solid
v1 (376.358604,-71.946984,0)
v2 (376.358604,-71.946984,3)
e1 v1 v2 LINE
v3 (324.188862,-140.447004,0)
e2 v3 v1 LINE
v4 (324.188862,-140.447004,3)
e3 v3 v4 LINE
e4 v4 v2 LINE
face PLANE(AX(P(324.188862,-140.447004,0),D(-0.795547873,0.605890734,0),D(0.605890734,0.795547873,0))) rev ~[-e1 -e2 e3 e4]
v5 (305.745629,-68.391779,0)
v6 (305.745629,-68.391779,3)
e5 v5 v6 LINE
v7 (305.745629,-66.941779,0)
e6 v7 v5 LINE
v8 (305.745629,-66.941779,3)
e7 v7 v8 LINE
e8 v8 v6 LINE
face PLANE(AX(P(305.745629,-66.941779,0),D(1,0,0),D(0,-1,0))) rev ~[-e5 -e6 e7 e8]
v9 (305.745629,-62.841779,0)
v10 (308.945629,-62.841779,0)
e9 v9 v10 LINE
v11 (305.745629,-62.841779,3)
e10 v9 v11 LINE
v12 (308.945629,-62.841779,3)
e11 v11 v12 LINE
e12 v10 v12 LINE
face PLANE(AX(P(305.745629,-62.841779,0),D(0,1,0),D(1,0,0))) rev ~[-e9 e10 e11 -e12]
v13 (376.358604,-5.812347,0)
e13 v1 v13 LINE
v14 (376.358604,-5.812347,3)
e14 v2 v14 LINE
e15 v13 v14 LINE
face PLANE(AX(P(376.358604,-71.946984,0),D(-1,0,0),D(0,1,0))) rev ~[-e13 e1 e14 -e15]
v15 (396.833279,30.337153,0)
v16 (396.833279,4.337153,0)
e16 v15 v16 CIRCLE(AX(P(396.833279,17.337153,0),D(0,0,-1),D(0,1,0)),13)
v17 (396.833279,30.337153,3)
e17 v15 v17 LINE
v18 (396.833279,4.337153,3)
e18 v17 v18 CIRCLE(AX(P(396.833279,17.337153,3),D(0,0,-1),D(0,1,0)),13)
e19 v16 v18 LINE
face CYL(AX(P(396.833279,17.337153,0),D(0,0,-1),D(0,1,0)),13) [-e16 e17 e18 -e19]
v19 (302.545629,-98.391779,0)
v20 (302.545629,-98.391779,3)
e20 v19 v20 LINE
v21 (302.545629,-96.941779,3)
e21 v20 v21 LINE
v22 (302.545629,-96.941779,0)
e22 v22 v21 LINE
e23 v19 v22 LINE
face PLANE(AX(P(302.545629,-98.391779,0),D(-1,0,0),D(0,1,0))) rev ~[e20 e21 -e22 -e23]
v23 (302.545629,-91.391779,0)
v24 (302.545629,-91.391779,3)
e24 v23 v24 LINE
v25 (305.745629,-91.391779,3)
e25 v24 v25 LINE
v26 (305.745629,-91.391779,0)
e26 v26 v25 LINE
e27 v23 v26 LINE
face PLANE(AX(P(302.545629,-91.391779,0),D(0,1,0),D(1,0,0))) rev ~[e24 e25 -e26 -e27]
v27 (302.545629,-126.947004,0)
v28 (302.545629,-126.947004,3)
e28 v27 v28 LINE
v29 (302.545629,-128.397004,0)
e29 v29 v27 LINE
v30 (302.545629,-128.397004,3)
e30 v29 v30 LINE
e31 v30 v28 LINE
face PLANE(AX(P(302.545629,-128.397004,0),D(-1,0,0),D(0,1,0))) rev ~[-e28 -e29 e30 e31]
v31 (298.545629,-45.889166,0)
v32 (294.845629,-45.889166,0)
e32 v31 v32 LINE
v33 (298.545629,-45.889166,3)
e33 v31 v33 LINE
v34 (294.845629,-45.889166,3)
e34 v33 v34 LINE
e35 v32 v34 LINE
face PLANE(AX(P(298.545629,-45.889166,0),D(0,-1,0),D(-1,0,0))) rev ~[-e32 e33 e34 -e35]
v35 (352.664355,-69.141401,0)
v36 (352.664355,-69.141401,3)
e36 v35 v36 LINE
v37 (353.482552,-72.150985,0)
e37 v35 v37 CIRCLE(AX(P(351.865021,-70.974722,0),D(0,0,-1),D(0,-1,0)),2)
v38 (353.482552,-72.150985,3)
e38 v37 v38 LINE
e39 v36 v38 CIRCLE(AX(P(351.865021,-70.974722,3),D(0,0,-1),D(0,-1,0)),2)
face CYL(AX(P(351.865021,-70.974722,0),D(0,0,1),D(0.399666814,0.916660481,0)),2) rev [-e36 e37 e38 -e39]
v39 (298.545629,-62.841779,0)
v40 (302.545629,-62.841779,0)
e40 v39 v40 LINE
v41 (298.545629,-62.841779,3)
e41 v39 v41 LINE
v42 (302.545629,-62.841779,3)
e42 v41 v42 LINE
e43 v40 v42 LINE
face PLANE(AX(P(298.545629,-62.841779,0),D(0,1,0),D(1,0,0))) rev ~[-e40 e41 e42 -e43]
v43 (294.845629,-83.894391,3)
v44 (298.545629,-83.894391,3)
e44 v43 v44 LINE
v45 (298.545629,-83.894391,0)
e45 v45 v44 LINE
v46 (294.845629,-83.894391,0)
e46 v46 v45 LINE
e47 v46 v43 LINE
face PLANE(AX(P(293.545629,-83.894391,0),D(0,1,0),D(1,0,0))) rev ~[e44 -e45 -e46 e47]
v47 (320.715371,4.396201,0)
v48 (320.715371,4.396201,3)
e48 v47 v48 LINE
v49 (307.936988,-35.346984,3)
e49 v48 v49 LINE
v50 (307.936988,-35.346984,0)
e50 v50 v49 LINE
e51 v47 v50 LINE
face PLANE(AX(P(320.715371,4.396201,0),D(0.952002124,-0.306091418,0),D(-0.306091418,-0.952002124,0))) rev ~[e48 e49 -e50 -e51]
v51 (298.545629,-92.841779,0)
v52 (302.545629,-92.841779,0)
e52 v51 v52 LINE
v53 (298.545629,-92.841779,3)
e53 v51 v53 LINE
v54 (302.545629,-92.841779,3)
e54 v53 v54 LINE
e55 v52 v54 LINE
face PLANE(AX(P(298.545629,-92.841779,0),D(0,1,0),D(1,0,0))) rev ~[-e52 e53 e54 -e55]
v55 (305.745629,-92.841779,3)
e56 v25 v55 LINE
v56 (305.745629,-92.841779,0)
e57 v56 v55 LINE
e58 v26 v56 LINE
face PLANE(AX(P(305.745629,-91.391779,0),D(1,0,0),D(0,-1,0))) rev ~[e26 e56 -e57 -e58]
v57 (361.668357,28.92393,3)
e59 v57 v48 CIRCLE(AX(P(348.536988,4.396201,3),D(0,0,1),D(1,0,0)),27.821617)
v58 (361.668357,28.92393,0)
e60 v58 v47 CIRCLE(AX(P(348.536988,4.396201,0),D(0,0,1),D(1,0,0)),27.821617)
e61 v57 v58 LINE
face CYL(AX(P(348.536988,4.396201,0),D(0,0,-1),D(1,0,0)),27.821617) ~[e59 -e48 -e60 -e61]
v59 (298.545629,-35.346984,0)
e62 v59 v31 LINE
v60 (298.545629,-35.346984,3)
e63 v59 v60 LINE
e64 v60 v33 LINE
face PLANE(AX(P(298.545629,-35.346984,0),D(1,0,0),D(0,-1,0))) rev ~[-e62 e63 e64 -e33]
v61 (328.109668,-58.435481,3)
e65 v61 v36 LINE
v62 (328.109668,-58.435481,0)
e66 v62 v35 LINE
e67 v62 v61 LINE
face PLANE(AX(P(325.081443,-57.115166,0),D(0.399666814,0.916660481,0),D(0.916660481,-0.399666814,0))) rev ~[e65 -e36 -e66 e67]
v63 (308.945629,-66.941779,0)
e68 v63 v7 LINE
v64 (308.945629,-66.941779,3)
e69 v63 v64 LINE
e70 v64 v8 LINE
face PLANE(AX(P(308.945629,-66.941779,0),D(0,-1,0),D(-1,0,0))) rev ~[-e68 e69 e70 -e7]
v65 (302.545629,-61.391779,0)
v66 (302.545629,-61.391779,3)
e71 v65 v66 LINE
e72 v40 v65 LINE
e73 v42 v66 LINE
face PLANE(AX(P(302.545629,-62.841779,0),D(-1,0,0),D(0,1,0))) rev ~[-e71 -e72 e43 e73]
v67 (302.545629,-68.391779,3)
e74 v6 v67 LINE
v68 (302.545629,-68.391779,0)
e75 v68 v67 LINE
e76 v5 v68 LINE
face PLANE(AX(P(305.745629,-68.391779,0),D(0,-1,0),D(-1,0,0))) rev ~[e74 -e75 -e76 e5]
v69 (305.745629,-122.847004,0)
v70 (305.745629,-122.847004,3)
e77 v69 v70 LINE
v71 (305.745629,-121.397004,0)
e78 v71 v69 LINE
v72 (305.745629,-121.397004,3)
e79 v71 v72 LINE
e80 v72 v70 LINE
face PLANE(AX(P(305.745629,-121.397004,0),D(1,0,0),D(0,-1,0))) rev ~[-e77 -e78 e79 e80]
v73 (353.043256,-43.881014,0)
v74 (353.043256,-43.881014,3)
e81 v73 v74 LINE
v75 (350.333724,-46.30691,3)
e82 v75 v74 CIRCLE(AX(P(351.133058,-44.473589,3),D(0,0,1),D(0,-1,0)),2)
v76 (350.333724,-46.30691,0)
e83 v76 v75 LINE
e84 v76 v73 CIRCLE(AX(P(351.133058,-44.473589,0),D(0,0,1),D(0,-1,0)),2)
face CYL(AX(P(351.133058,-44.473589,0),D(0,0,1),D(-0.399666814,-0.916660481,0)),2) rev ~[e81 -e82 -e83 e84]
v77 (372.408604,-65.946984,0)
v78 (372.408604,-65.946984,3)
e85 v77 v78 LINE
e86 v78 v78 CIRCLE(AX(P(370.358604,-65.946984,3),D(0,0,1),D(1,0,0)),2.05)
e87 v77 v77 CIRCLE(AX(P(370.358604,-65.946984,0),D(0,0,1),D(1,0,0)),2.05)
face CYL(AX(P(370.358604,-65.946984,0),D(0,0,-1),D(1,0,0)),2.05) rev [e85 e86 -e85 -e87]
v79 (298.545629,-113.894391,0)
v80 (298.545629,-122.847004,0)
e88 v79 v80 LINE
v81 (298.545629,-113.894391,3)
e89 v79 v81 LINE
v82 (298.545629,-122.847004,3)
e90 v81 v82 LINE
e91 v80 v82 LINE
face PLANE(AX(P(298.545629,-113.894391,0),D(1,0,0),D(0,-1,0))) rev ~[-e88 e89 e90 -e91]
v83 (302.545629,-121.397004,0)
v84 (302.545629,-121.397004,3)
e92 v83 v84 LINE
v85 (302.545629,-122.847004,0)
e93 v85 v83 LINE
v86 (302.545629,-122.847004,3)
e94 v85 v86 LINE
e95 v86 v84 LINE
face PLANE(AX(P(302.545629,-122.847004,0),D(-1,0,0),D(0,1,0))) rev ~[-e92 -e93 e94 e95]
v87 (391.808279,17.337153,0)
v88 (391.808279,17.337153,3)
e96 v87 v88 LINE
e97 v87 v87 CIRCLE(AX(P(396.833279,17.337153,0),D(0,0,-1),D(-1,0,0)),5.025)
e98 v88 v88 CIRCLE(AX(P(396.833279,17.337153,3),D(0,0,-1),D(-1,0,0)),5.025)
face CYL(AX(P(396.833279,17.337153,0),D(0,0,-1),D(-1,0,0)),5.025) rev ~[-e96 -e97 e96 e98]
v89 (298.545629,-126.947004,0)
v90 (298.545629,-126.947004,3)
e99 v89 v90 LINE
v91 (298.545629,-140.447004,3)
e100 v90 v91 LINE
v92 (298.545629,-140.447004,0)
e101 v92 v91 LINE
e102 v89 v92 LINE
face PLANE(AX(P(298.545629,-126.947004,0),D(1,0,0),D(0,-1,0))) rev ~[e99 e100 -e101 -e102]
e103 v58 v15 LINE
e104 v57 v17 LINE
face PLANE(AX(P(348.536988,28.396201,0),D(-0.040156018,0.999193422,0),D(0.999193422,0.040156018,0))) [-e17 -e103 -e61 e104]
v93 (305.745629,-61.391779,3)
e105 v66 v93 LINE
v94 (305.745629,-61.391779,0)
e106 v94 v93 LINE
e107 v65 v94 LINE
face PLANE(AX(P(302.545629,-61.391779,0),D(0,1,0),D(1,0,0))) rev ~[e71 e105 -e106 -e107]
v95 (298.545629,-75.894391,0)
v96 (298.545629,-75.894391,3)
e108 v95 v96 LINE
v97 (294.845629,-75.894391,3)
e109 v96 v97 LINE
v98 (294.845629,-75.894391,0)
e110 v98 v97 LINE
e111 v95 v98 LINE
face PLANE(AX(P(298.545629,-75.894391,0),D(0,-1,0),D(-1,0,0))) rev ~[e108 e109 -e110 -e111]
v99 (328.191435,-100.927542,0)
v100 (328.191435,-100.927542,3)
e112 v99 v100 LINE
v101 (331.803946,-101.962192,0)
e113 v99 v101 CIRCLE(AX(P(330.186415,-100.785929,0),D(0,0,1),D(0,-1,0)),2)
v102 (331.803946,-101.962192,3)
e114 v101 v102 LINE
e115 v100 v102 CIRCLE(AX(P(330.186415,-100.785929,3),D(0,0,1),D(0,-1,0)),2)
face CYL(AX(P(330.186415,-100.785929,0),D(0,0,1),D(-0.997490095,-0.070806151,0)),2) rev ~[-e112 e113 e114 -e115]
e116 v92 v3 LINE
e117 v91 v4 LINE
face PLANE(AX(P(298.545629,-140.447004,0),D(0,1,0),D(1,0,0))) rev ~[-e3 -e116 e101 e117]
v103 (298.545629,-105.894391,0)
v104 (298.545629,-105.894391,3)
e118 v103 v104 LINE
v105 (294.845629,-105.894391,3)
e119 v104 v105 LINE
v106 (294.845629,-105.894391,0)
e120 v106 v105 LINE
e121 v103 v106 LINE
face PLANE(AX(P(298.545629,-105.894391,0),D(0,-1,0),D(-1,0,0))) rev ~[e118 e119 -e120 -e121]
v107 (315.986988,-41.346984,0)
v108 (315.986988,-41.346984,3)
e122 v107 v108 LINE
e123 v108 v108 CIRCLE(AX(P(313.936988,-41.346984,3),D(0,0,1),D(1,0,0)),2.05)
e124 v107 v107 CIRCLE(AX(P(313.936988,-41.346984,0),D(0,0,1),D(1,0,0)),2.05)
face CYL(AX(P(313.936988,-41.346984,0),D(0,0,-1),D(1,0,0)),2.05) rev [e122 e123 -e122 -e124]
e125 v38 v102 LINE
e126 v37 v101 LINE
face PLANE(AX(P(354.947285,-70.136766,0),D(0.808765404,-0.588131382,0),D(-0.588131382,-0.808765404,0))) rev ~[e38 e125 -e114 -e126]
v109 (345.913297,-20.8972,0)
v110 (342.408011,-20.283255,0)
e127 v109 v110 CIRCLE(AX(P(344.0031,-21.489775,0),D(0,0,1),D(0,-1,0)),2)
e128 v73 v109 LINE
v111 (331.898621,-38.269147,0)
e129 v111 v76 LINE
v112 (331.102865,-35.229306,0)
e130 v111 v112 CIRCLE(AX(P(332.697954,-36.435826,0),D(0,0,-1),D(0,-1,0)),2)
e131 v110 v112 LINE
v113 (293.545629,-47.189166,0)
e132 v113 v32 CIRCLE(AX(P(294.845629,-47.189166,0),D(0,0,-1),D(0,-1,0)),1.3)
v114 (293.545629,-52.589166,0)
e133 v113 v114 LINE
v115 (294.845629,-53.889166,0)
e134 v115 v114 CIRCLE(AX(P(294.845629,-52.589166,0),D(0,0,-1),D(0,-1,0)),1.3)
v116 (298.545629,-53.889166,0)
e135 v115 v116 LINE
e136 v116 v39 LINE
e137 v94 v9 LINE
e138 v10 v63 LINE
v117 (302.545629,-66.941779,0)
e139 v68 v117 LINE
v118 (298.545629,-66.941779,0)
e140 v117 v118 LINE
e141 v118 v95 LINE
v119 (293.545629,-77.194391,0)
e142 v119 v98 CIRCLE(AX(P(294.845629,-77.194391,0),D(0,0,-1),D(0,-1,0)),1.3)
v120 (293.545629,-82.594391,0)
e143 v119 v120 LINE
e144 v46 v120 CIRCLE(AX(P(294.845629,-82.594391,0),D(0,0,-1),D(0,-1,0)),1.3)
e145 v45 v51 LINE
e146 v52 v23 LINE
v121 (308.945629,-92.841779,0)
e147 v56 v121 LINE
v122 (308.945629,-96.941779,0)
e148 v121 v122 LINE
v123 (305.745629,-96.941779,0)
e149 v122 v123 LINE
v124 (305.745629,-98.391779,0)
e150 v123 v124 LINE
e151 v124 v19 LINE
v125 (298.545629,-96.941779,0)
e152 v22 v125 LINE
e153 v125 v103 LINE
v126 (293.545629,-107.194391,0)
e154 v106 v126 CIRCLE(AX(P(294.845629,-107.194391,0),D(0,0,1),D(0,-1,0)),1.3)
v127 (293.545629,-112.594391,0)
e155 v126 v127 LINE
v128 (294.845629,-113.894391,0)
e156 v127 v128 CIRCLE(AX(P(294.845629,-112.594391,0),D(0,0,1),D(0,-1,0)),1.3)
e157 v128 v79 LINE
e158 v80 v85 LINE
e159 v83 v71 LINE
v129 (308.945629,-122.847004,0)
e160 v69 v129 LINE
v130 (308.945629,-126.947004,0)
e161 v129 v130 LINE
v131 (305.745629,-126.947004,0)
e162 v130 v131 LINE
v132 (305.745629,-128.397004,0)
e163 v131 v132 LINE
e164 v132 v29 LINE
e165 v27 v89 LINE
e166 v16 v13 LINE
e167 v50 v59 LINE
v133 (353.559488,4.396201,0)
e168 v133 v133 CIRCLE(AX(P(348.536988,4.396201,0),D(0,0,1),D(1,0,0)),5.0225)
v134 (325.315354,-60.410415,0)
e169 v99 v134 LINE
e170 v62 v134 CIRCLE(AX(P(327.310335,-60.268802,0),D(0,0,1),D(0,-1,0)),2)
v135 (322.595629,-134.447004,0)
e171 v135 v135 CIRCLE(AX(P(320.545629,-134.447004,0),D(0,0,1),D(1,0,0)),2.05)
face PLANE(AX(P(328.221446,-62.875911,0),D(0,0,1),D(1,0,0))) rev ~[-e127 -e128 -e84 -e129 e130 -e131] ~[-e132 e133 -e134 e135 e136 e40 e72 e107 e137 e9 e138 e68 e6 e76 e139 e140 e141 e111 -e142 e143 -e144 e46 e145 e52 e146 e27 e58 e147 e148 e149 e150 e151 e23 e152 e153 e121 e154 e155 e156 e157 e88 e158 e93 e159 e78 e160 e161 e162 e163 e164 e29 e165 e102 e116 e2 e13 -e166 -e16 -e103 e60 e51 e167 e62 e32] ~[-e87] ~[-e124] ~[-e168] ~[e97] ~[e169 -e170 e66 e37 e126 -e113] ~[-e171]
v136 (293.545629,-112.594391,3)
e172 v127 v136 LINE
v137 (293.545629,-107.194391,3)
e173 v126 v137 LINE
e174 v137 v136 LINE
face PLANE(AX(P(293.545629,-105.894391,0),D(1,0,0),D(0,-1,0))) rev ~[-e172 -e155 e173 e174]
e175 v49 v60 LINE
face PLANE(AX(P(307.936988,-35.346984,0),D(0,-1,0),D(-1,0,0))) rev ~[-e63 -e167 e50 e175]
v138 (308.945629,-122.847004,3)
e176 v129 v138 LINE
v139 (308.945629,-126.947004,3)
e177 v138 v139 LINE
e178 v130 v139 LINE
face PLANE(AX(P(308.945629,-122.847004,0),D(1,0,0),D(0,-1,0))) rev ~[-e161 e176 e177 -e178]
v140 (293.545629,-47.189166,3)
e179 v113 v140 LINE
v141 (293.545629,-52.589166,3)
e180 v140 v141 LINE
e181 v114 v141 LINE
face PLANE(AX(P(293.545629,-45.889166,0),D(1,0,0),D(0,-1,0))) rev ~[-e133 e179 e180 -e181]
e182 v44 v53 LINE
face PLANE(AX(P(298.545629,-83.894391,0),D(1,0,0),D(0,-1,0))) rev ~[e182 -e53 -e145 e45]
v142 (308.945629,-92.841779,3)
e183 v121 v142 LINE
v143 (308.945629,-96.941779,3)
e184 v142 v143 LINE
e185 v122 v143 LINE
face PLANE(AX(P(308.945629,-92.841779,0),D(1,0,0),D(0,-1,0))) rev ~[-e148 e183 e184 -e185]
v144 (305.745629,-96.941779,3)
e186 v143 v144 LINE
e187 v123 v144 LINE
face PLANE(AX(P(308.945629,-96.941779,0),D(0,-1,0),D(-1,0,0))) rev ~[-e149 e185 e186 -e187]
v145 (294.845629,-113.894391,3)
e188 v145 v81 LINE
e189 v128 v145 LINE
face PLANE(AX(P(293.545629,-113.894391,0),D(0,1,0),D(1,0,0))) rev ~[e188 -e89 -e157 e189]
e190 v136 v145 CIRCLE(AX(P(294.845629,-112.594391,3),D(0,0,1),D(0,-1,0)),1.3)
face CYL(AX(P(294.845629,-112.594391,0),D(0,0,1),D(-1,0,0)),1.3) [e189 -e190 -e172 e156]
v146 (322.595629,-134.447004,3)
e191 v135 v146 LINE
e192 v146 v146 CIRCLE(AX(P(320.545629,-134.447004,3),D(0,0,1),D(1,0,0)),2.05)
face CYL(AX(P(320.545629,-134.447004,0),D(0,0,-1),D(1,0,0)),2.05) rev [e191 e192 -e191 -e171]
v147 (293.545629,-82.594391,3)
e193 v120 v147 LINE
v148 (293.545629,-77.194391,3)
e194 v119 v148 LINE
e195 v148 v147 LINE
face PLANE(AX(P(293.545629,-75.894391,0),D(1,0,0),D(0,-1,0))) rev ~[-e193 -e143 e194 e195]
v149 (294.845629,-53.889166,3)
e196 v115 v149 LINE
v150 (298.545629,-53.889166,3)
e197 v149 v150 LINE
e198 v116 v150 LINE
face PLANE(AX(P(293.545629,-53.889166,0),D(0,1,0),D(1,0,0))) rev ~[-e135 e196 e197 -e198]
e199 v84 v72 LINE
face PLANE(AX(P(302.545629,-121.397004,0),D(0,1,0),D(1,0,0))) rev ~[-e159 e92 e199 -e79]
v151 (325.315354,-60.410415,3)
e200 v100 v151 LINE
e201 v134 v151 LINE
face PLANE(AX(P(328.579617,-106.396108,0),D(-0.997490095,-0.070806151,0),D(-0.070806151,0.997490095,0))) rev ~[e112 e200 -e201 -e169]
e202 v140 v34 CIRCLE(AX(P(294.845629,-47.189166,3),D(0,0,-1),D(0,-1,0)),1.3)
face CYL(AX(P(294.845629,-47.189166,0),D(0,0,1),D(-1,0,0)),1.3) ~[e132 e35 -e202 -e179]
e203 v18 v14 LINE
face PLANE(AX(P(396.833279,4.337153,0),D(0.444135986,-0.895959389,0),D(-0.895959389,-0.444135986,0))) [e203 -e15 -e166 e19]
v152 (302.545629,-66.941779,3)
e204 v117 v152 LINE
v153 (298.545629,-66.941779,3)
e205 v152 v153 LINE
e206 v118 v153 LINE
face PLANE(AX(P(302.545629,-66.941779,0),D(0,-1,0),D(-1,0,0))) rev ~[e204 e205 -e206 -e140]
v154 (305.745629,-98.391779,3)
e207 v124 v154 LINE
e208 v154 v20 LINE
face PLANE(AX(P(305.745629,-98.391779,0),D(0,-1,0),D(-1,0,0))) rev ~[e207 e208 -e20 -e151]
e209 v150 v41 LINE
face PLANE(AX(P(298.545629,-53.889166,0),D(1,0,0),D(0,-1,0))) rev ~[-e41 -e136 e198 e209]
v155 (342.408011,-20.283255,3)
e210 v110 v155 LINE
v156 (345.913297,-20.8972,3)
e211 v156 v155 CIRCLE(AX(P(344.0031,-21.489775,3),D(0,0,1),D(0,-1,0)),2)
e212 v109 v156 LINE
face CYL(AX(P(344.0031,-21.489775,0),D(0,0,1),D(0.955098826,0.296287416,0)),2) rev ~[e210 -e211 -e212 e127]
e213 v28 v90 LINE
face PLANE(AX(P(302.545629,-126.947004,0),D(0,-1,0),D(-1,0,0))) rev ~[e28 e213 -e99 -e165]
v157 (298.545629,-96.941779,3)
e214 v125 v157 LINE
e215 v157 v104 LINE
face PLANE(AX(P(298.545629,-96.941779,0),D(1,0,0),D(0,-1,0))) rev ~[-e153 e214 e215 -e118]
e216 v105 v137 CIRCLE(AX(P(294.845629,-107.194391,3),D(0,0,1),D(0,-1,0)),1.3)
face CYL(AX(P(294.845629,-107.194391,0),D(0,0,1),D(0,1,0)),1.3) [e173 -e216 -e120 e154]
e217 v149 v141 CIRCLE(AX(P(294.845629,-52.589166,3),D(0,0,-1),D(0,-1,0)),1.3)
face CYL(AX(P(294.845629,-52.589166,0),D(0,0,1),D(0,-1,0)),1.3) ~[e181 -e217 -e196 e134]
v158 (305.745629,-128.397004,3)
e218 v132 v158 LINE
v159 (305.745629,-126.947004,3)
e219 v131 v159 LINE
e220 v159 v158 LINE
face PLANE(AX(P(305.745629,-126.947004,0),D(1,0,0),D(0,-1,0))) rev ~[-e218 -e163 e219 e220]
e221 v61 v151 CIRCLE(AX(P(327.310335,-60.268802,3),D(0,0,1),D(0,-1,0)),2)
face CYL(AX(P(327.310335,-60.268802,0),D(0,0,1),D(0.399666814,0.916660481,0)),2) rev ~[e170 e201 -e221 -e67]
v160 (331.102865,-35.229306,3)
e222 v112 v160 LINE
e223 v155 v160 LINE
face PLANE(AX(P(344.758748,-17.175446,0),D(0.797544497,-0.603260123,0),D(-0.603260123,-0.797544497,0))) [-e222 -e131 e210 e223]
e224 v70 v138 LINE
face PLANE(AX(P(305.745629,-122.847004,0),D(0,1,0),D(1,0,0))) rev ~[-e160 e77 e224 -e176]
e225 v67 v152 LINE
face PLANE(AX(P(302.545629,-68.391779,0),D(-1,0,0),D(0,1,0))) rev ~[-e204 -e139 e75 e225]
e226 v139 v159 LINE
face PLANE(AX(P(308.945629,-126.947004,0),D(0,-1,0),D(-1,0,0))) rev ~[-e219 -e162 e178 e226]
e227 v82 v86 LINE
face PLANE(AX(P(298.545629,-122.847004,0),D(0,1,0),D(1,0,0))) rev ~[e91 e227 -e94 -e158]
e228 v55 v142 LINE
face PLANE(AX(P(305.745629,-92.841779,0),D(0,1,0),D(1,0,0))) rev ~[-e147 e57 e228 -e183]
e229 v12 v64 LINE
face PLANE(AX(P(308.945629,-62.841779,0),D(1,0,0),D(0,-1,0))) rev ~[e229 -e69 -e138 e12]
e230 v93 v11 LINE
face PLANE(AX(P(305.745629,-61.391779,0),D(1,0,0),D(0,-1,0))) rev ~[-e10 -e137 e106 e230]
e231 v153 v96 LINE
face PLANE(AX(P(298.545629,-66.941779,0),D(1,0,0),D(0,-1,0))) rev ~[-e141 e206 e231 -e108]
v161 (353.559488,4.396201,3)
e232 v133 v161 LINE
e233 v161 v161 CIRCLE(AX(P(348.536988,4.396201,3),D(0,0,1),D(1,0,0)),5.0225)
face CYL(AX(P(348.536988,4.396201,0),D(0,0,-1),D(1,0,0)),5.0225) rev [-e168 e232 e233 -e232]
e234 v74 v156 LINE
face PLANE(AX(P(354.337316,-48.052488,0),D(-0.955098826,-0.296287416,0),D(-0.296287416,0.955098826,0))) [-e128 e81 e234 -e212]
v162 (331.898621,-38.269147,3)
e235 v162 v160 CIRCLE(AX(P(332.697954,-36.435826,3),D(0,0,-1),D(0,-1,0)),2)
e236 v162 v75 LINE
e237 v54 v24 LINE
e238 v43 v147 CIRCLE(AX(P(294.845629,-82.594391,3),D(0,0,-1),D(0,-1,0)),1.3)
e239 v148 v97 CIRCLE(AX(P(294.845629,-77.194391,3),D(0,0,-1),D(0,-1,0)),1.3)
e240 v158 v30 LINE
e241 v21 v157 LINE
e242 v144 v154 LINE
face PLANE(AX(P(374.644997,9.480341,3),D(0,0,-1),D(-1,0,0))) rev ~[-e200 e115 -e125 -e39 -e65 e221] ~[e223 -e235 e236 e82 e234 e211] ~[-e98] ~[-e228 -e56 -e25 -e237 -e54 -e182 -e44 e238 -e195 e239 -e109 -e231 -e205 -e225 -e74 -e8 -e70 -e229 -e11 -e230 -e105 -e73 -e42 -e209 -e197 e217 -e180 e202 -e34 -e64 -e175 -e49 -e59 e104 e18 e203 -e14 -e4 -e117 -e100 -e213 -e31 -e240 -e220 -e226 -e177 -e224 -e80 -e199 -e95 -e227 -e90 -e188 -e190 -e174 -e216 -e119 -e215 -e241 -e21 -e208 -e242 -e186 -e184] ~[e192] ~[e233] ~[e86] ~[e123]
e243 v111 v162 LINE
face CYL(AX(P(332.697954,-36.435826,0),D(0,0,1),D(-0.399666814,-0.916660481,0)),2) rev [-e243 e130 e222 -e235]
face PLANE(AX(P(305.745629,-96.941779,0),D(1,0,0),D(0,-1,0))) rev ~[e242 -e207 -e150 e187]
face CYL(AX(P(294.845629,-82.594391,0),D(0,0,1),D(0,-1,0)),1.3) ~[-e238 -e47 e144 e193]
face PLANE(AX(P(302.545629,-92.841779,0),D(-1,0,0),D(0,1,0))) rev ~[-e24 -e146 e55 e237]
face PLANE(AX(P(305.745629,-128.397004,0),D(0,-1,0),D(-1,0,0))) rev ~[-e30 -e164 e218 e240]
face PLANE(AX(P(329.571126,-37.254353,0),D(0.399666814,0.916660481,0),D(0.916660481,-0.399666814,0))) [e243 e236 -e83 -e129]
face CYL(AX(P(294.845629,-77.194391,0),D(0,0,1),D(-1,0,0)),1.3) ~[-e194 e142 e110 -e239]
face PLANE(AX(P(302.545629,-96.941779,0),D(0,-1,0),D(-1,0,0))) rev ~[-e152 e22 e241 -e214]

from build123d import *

# Parameters (mm, degrees)
SKETCH_1_R      = 5.0225
SKETCH_1_R_2    = 2.05
EXTRUDE_1_DEPTH = 3
FILLET_1_R      = 2
FILLET_2_R      = 1.3
SKETCH_3_R      = 5.025
EXTRUDE_2_DEPTH = 3


with BuildPart() as part:
    # 草图1 → 凸台-拉伸1 (new body)
    with BuildSketch(Plane.XY):
        with BuildLine():
            Line((298.545628784, -83.894391363), (298.545628784, -92.841778663))
            Line((298.545628784, -92.841778663), (302.545628784, -92.841778663))
            Line((302.545628784, -92.841778663), (302.545628784, -91.391778663))
            Line((302.545628784, -91.391778663), (305.745628784, -91.391778663))
            Line((305.745628784, -91.391778663), (305.745628784, -92.841778663))
            Line((305.745628784, -92.841778663), (308.945628784, -92.841778663))
            Line((308.945628784, -92.841778663), (308.945628784, -96.941778663))
            Line((308.945628784, -96.941778663), (305.745628784, -96.941778663))
            Line((305.745628784, -96.941778663), (305.745628784, -98.391778663))
            Line((305.745628784, -98.391778663), (302.545628784, -98.391778663))
            Line((302.545628784, -98.391778663), (302.545628784, -96.941778663))
            Line((302.545628784, -96.941778663), (298.545628784, -96.941778663))
            Line((298.545628784, -96.941778663), (298.545628784, -105.894391358))
            Line((298.545628784, -105.894391358), (293.545628784, -105.894391358))
            Line((293.545628784, -105.894391358), (293.545628784, -113.894391358))
            Line((293.545628784, -113.894391358), (298.545628784, -113.894391358))
            Line((298.545628784, -113.894391358), (298.545628784, -122.847004054))
            Line((298.545628784, -122.847004054), (302.545628784, -122.847004054))
            Line((302.545628784, -122.847004054), (302.545628784, -121.397004054))
            Line((302.545628784, -121.397004054), (305.745628784, -121.397004054))
            Line((305.745628784, -121.397004054), (305.745628784, -122.847004054))
            Line((305.745628784, -122.847004054), (308.945628784, -122.847004054))
            Line((308.945628784, -122.847004054), (308.945628784, -126.947004054))
            Line((308.945628784, -126.947004054), (305.745628784, -126.947004054))
            Line((305.745628784, -126.947004054), (305.745628784, -128.397004054))
            Line((305.745628784, -128.397004054), (302.545628784, -128.397004054))
            Line((302.545628784, -128.397004054), (302.545628784, -126.947004054))
            Line((302.545628784, -126.947004054), (298.545628784, -126.947004054))
            Line((298.545628784, -126.947004054), (298.545628784, -140.447004054))
            Line((298.545628784, -140.447004054), (324.188862368, -140.447004054))
            Line((324.188862368, -140.447004054), (376.358604426, -71.946984141))
            Line((376.358604426, -71.946984141), (376.358604426, 4.396201153))
            ThreePointArc((376.358604426, 4.396201153), (348.536987634, 32.217817945), (320.715370843, 4.396201153))
            Line((320.715370843, 4.396201153), (307.936987634, -35.346984141))
            Line((307.936987634, -35.346984141), (298.545628784, -35.346984141))
            Line((298.545628784, -35.346984141), (298.545628784, -45.889165972))
            Line((298.545628784, -45.889165972), (293.545628784, -45.889165972))
            Line((293.545628784, -45.889165972), (293.545628784, -53.889165972))
            Line((293.545628784, -53.889165972), (298.545628784, -53.889165972))
            Line((298.545628784, -53.889165972), (298.545628784, -62.841778668))
            Line((298.545628784, -62.841778668), (302.545628784, -62.841778668))
            Line((302.545628784, -62.841778668), (302.545628784, -61.391778668))
            Line((302.545628784, -61.391778668), (305.745628784, -61.391778668))
            Line((305.745628784, -61.391778668), (305.745628784, -62.841778668))
            Line((305.745628784, -62.841778668), (308.945628784, -62.841778668))
            Line((308.945628784, -62.841778668), (308.945628784, -66.941778668))
            Line((308.945628784, -66.941778668), (305.745628784, -66.941778668))
            Line((305.745628784, -66.941778668), (305.745628784, -68.391778668))
            Line((305.745628784, -68.391778668), (302.545628784, -68.391778668))
            Line((302.545628784, -68.391778668), (302.545628784, -66.941778668))
            Line((302.545628784, -66.941778668), (298.545628784, -66.941778668))
            Line((298.545628784, -66.941778668), (298.545628784, -75.894391363))
            Line((298.545628784, -75.894391363), (293.545628784, -75.894391363))
            Line((293.545628784, -75.894391363), (293.545628784, -83.894391363))
            Line((293.545628784, -83.894391363), (298.545628784, -83.894391363))
        make_face()
        with Locations((348.536987634, 4.396201153)):
            Circle(SKETCH_1_R, mode=Mode.SUBTRACT)
        with Locations((320.545628784, -134.447004054)):
            Circle(SKETCH_1_R_2, mode=Mode.SUBTRACT)
        with Locations((370.358604426, -65.946984141)):
            Circle(SKETCH_1_R_2, mode=Mode.SUBTRACT)
        with Locations((313.936987634, -41.346984141)):
            Circle(SKETCH_1_R_2, mode=Mode.SUBTRACT)
        Polygon((354.947285032, -70.136765586), (328.579617375, -106.396108383), (325.08144343, -57.115165973), align=None, mode=Mode.SUBTRACT)
        Polygon((329.571126451, -37.254352656), (354.337315751, -48.052488042), (344.758747766, -17.175445836), align=None, mode=Mode.SUBTRACT)
    extrude(amount=EXTRUDE_1_DEPTH)

    # 圆角1
    fillet_1_edges = [part.edges().sort_by_distance(p)[0] for p in [
        (354.947285032, -70.136765586, 1.5),
        (325.08144343, -57.115165973, 1.5),
        (328.579617375, -106.396108383, 1.5),
        (344.758747766, -17.175445836, 1.5),
        (329.571126451, -37.254352656, 1.5),
        (354.337315751, -48.052488042, 1.5),
    ]]
    fillet(fillet_1_edges, radius=FILLET_1_R)

    # 圆角2
    fillet_2_edges = [part.edges().sort_by_distance(p)[0] for p in [
        (293.545628784, -113.894391358, 1.5),
        (293.545628784, -105.894391358, 1.5),
        (293.545628784, -83.894391363, 1.5),
        (293.545628784, -75.894391363, 1.5),
        (293.545628784, -53.889165972, 1.5),
        (293.545628784, -45.889165972, 1.5),
    ]]
    fillet(fillet_2_edges, radius=FILLET_2_R)

    # 草图3 → 凸台-拉伸2 (add)
    with BuildSketch(Plane(origin=(0, 0, 0), x_dir=(-1, 0, 0), z_dir=(0, 0, -1))):
        with BuildLine():
            Line((-348.536987634, 28.396201153), (-396.833278949, 30.337153408))
            ThreePointArc((-396.833278949, 30.337153408), (-409.833278949, 17.337153408), (-396.833278949, 4.337153408))
            Line((-396.833278949, 4.337153408), (-348.536987634, -19.603798847))
            Line((-348.536987634, -19.603798847), (-372.536987634, 4.396201153))
            Line((-372.536987634, 4.396201153), (-348.536987634, 28.396201153))
        make_face()
        with Locations((-396.833278949, 17.337153408)):
            Circle(SKETCH_3_R, mode=Mode.SUBTRACT)
    extrude(amount=-EXTRUDE_2_DEPTH)


solid = part.part
